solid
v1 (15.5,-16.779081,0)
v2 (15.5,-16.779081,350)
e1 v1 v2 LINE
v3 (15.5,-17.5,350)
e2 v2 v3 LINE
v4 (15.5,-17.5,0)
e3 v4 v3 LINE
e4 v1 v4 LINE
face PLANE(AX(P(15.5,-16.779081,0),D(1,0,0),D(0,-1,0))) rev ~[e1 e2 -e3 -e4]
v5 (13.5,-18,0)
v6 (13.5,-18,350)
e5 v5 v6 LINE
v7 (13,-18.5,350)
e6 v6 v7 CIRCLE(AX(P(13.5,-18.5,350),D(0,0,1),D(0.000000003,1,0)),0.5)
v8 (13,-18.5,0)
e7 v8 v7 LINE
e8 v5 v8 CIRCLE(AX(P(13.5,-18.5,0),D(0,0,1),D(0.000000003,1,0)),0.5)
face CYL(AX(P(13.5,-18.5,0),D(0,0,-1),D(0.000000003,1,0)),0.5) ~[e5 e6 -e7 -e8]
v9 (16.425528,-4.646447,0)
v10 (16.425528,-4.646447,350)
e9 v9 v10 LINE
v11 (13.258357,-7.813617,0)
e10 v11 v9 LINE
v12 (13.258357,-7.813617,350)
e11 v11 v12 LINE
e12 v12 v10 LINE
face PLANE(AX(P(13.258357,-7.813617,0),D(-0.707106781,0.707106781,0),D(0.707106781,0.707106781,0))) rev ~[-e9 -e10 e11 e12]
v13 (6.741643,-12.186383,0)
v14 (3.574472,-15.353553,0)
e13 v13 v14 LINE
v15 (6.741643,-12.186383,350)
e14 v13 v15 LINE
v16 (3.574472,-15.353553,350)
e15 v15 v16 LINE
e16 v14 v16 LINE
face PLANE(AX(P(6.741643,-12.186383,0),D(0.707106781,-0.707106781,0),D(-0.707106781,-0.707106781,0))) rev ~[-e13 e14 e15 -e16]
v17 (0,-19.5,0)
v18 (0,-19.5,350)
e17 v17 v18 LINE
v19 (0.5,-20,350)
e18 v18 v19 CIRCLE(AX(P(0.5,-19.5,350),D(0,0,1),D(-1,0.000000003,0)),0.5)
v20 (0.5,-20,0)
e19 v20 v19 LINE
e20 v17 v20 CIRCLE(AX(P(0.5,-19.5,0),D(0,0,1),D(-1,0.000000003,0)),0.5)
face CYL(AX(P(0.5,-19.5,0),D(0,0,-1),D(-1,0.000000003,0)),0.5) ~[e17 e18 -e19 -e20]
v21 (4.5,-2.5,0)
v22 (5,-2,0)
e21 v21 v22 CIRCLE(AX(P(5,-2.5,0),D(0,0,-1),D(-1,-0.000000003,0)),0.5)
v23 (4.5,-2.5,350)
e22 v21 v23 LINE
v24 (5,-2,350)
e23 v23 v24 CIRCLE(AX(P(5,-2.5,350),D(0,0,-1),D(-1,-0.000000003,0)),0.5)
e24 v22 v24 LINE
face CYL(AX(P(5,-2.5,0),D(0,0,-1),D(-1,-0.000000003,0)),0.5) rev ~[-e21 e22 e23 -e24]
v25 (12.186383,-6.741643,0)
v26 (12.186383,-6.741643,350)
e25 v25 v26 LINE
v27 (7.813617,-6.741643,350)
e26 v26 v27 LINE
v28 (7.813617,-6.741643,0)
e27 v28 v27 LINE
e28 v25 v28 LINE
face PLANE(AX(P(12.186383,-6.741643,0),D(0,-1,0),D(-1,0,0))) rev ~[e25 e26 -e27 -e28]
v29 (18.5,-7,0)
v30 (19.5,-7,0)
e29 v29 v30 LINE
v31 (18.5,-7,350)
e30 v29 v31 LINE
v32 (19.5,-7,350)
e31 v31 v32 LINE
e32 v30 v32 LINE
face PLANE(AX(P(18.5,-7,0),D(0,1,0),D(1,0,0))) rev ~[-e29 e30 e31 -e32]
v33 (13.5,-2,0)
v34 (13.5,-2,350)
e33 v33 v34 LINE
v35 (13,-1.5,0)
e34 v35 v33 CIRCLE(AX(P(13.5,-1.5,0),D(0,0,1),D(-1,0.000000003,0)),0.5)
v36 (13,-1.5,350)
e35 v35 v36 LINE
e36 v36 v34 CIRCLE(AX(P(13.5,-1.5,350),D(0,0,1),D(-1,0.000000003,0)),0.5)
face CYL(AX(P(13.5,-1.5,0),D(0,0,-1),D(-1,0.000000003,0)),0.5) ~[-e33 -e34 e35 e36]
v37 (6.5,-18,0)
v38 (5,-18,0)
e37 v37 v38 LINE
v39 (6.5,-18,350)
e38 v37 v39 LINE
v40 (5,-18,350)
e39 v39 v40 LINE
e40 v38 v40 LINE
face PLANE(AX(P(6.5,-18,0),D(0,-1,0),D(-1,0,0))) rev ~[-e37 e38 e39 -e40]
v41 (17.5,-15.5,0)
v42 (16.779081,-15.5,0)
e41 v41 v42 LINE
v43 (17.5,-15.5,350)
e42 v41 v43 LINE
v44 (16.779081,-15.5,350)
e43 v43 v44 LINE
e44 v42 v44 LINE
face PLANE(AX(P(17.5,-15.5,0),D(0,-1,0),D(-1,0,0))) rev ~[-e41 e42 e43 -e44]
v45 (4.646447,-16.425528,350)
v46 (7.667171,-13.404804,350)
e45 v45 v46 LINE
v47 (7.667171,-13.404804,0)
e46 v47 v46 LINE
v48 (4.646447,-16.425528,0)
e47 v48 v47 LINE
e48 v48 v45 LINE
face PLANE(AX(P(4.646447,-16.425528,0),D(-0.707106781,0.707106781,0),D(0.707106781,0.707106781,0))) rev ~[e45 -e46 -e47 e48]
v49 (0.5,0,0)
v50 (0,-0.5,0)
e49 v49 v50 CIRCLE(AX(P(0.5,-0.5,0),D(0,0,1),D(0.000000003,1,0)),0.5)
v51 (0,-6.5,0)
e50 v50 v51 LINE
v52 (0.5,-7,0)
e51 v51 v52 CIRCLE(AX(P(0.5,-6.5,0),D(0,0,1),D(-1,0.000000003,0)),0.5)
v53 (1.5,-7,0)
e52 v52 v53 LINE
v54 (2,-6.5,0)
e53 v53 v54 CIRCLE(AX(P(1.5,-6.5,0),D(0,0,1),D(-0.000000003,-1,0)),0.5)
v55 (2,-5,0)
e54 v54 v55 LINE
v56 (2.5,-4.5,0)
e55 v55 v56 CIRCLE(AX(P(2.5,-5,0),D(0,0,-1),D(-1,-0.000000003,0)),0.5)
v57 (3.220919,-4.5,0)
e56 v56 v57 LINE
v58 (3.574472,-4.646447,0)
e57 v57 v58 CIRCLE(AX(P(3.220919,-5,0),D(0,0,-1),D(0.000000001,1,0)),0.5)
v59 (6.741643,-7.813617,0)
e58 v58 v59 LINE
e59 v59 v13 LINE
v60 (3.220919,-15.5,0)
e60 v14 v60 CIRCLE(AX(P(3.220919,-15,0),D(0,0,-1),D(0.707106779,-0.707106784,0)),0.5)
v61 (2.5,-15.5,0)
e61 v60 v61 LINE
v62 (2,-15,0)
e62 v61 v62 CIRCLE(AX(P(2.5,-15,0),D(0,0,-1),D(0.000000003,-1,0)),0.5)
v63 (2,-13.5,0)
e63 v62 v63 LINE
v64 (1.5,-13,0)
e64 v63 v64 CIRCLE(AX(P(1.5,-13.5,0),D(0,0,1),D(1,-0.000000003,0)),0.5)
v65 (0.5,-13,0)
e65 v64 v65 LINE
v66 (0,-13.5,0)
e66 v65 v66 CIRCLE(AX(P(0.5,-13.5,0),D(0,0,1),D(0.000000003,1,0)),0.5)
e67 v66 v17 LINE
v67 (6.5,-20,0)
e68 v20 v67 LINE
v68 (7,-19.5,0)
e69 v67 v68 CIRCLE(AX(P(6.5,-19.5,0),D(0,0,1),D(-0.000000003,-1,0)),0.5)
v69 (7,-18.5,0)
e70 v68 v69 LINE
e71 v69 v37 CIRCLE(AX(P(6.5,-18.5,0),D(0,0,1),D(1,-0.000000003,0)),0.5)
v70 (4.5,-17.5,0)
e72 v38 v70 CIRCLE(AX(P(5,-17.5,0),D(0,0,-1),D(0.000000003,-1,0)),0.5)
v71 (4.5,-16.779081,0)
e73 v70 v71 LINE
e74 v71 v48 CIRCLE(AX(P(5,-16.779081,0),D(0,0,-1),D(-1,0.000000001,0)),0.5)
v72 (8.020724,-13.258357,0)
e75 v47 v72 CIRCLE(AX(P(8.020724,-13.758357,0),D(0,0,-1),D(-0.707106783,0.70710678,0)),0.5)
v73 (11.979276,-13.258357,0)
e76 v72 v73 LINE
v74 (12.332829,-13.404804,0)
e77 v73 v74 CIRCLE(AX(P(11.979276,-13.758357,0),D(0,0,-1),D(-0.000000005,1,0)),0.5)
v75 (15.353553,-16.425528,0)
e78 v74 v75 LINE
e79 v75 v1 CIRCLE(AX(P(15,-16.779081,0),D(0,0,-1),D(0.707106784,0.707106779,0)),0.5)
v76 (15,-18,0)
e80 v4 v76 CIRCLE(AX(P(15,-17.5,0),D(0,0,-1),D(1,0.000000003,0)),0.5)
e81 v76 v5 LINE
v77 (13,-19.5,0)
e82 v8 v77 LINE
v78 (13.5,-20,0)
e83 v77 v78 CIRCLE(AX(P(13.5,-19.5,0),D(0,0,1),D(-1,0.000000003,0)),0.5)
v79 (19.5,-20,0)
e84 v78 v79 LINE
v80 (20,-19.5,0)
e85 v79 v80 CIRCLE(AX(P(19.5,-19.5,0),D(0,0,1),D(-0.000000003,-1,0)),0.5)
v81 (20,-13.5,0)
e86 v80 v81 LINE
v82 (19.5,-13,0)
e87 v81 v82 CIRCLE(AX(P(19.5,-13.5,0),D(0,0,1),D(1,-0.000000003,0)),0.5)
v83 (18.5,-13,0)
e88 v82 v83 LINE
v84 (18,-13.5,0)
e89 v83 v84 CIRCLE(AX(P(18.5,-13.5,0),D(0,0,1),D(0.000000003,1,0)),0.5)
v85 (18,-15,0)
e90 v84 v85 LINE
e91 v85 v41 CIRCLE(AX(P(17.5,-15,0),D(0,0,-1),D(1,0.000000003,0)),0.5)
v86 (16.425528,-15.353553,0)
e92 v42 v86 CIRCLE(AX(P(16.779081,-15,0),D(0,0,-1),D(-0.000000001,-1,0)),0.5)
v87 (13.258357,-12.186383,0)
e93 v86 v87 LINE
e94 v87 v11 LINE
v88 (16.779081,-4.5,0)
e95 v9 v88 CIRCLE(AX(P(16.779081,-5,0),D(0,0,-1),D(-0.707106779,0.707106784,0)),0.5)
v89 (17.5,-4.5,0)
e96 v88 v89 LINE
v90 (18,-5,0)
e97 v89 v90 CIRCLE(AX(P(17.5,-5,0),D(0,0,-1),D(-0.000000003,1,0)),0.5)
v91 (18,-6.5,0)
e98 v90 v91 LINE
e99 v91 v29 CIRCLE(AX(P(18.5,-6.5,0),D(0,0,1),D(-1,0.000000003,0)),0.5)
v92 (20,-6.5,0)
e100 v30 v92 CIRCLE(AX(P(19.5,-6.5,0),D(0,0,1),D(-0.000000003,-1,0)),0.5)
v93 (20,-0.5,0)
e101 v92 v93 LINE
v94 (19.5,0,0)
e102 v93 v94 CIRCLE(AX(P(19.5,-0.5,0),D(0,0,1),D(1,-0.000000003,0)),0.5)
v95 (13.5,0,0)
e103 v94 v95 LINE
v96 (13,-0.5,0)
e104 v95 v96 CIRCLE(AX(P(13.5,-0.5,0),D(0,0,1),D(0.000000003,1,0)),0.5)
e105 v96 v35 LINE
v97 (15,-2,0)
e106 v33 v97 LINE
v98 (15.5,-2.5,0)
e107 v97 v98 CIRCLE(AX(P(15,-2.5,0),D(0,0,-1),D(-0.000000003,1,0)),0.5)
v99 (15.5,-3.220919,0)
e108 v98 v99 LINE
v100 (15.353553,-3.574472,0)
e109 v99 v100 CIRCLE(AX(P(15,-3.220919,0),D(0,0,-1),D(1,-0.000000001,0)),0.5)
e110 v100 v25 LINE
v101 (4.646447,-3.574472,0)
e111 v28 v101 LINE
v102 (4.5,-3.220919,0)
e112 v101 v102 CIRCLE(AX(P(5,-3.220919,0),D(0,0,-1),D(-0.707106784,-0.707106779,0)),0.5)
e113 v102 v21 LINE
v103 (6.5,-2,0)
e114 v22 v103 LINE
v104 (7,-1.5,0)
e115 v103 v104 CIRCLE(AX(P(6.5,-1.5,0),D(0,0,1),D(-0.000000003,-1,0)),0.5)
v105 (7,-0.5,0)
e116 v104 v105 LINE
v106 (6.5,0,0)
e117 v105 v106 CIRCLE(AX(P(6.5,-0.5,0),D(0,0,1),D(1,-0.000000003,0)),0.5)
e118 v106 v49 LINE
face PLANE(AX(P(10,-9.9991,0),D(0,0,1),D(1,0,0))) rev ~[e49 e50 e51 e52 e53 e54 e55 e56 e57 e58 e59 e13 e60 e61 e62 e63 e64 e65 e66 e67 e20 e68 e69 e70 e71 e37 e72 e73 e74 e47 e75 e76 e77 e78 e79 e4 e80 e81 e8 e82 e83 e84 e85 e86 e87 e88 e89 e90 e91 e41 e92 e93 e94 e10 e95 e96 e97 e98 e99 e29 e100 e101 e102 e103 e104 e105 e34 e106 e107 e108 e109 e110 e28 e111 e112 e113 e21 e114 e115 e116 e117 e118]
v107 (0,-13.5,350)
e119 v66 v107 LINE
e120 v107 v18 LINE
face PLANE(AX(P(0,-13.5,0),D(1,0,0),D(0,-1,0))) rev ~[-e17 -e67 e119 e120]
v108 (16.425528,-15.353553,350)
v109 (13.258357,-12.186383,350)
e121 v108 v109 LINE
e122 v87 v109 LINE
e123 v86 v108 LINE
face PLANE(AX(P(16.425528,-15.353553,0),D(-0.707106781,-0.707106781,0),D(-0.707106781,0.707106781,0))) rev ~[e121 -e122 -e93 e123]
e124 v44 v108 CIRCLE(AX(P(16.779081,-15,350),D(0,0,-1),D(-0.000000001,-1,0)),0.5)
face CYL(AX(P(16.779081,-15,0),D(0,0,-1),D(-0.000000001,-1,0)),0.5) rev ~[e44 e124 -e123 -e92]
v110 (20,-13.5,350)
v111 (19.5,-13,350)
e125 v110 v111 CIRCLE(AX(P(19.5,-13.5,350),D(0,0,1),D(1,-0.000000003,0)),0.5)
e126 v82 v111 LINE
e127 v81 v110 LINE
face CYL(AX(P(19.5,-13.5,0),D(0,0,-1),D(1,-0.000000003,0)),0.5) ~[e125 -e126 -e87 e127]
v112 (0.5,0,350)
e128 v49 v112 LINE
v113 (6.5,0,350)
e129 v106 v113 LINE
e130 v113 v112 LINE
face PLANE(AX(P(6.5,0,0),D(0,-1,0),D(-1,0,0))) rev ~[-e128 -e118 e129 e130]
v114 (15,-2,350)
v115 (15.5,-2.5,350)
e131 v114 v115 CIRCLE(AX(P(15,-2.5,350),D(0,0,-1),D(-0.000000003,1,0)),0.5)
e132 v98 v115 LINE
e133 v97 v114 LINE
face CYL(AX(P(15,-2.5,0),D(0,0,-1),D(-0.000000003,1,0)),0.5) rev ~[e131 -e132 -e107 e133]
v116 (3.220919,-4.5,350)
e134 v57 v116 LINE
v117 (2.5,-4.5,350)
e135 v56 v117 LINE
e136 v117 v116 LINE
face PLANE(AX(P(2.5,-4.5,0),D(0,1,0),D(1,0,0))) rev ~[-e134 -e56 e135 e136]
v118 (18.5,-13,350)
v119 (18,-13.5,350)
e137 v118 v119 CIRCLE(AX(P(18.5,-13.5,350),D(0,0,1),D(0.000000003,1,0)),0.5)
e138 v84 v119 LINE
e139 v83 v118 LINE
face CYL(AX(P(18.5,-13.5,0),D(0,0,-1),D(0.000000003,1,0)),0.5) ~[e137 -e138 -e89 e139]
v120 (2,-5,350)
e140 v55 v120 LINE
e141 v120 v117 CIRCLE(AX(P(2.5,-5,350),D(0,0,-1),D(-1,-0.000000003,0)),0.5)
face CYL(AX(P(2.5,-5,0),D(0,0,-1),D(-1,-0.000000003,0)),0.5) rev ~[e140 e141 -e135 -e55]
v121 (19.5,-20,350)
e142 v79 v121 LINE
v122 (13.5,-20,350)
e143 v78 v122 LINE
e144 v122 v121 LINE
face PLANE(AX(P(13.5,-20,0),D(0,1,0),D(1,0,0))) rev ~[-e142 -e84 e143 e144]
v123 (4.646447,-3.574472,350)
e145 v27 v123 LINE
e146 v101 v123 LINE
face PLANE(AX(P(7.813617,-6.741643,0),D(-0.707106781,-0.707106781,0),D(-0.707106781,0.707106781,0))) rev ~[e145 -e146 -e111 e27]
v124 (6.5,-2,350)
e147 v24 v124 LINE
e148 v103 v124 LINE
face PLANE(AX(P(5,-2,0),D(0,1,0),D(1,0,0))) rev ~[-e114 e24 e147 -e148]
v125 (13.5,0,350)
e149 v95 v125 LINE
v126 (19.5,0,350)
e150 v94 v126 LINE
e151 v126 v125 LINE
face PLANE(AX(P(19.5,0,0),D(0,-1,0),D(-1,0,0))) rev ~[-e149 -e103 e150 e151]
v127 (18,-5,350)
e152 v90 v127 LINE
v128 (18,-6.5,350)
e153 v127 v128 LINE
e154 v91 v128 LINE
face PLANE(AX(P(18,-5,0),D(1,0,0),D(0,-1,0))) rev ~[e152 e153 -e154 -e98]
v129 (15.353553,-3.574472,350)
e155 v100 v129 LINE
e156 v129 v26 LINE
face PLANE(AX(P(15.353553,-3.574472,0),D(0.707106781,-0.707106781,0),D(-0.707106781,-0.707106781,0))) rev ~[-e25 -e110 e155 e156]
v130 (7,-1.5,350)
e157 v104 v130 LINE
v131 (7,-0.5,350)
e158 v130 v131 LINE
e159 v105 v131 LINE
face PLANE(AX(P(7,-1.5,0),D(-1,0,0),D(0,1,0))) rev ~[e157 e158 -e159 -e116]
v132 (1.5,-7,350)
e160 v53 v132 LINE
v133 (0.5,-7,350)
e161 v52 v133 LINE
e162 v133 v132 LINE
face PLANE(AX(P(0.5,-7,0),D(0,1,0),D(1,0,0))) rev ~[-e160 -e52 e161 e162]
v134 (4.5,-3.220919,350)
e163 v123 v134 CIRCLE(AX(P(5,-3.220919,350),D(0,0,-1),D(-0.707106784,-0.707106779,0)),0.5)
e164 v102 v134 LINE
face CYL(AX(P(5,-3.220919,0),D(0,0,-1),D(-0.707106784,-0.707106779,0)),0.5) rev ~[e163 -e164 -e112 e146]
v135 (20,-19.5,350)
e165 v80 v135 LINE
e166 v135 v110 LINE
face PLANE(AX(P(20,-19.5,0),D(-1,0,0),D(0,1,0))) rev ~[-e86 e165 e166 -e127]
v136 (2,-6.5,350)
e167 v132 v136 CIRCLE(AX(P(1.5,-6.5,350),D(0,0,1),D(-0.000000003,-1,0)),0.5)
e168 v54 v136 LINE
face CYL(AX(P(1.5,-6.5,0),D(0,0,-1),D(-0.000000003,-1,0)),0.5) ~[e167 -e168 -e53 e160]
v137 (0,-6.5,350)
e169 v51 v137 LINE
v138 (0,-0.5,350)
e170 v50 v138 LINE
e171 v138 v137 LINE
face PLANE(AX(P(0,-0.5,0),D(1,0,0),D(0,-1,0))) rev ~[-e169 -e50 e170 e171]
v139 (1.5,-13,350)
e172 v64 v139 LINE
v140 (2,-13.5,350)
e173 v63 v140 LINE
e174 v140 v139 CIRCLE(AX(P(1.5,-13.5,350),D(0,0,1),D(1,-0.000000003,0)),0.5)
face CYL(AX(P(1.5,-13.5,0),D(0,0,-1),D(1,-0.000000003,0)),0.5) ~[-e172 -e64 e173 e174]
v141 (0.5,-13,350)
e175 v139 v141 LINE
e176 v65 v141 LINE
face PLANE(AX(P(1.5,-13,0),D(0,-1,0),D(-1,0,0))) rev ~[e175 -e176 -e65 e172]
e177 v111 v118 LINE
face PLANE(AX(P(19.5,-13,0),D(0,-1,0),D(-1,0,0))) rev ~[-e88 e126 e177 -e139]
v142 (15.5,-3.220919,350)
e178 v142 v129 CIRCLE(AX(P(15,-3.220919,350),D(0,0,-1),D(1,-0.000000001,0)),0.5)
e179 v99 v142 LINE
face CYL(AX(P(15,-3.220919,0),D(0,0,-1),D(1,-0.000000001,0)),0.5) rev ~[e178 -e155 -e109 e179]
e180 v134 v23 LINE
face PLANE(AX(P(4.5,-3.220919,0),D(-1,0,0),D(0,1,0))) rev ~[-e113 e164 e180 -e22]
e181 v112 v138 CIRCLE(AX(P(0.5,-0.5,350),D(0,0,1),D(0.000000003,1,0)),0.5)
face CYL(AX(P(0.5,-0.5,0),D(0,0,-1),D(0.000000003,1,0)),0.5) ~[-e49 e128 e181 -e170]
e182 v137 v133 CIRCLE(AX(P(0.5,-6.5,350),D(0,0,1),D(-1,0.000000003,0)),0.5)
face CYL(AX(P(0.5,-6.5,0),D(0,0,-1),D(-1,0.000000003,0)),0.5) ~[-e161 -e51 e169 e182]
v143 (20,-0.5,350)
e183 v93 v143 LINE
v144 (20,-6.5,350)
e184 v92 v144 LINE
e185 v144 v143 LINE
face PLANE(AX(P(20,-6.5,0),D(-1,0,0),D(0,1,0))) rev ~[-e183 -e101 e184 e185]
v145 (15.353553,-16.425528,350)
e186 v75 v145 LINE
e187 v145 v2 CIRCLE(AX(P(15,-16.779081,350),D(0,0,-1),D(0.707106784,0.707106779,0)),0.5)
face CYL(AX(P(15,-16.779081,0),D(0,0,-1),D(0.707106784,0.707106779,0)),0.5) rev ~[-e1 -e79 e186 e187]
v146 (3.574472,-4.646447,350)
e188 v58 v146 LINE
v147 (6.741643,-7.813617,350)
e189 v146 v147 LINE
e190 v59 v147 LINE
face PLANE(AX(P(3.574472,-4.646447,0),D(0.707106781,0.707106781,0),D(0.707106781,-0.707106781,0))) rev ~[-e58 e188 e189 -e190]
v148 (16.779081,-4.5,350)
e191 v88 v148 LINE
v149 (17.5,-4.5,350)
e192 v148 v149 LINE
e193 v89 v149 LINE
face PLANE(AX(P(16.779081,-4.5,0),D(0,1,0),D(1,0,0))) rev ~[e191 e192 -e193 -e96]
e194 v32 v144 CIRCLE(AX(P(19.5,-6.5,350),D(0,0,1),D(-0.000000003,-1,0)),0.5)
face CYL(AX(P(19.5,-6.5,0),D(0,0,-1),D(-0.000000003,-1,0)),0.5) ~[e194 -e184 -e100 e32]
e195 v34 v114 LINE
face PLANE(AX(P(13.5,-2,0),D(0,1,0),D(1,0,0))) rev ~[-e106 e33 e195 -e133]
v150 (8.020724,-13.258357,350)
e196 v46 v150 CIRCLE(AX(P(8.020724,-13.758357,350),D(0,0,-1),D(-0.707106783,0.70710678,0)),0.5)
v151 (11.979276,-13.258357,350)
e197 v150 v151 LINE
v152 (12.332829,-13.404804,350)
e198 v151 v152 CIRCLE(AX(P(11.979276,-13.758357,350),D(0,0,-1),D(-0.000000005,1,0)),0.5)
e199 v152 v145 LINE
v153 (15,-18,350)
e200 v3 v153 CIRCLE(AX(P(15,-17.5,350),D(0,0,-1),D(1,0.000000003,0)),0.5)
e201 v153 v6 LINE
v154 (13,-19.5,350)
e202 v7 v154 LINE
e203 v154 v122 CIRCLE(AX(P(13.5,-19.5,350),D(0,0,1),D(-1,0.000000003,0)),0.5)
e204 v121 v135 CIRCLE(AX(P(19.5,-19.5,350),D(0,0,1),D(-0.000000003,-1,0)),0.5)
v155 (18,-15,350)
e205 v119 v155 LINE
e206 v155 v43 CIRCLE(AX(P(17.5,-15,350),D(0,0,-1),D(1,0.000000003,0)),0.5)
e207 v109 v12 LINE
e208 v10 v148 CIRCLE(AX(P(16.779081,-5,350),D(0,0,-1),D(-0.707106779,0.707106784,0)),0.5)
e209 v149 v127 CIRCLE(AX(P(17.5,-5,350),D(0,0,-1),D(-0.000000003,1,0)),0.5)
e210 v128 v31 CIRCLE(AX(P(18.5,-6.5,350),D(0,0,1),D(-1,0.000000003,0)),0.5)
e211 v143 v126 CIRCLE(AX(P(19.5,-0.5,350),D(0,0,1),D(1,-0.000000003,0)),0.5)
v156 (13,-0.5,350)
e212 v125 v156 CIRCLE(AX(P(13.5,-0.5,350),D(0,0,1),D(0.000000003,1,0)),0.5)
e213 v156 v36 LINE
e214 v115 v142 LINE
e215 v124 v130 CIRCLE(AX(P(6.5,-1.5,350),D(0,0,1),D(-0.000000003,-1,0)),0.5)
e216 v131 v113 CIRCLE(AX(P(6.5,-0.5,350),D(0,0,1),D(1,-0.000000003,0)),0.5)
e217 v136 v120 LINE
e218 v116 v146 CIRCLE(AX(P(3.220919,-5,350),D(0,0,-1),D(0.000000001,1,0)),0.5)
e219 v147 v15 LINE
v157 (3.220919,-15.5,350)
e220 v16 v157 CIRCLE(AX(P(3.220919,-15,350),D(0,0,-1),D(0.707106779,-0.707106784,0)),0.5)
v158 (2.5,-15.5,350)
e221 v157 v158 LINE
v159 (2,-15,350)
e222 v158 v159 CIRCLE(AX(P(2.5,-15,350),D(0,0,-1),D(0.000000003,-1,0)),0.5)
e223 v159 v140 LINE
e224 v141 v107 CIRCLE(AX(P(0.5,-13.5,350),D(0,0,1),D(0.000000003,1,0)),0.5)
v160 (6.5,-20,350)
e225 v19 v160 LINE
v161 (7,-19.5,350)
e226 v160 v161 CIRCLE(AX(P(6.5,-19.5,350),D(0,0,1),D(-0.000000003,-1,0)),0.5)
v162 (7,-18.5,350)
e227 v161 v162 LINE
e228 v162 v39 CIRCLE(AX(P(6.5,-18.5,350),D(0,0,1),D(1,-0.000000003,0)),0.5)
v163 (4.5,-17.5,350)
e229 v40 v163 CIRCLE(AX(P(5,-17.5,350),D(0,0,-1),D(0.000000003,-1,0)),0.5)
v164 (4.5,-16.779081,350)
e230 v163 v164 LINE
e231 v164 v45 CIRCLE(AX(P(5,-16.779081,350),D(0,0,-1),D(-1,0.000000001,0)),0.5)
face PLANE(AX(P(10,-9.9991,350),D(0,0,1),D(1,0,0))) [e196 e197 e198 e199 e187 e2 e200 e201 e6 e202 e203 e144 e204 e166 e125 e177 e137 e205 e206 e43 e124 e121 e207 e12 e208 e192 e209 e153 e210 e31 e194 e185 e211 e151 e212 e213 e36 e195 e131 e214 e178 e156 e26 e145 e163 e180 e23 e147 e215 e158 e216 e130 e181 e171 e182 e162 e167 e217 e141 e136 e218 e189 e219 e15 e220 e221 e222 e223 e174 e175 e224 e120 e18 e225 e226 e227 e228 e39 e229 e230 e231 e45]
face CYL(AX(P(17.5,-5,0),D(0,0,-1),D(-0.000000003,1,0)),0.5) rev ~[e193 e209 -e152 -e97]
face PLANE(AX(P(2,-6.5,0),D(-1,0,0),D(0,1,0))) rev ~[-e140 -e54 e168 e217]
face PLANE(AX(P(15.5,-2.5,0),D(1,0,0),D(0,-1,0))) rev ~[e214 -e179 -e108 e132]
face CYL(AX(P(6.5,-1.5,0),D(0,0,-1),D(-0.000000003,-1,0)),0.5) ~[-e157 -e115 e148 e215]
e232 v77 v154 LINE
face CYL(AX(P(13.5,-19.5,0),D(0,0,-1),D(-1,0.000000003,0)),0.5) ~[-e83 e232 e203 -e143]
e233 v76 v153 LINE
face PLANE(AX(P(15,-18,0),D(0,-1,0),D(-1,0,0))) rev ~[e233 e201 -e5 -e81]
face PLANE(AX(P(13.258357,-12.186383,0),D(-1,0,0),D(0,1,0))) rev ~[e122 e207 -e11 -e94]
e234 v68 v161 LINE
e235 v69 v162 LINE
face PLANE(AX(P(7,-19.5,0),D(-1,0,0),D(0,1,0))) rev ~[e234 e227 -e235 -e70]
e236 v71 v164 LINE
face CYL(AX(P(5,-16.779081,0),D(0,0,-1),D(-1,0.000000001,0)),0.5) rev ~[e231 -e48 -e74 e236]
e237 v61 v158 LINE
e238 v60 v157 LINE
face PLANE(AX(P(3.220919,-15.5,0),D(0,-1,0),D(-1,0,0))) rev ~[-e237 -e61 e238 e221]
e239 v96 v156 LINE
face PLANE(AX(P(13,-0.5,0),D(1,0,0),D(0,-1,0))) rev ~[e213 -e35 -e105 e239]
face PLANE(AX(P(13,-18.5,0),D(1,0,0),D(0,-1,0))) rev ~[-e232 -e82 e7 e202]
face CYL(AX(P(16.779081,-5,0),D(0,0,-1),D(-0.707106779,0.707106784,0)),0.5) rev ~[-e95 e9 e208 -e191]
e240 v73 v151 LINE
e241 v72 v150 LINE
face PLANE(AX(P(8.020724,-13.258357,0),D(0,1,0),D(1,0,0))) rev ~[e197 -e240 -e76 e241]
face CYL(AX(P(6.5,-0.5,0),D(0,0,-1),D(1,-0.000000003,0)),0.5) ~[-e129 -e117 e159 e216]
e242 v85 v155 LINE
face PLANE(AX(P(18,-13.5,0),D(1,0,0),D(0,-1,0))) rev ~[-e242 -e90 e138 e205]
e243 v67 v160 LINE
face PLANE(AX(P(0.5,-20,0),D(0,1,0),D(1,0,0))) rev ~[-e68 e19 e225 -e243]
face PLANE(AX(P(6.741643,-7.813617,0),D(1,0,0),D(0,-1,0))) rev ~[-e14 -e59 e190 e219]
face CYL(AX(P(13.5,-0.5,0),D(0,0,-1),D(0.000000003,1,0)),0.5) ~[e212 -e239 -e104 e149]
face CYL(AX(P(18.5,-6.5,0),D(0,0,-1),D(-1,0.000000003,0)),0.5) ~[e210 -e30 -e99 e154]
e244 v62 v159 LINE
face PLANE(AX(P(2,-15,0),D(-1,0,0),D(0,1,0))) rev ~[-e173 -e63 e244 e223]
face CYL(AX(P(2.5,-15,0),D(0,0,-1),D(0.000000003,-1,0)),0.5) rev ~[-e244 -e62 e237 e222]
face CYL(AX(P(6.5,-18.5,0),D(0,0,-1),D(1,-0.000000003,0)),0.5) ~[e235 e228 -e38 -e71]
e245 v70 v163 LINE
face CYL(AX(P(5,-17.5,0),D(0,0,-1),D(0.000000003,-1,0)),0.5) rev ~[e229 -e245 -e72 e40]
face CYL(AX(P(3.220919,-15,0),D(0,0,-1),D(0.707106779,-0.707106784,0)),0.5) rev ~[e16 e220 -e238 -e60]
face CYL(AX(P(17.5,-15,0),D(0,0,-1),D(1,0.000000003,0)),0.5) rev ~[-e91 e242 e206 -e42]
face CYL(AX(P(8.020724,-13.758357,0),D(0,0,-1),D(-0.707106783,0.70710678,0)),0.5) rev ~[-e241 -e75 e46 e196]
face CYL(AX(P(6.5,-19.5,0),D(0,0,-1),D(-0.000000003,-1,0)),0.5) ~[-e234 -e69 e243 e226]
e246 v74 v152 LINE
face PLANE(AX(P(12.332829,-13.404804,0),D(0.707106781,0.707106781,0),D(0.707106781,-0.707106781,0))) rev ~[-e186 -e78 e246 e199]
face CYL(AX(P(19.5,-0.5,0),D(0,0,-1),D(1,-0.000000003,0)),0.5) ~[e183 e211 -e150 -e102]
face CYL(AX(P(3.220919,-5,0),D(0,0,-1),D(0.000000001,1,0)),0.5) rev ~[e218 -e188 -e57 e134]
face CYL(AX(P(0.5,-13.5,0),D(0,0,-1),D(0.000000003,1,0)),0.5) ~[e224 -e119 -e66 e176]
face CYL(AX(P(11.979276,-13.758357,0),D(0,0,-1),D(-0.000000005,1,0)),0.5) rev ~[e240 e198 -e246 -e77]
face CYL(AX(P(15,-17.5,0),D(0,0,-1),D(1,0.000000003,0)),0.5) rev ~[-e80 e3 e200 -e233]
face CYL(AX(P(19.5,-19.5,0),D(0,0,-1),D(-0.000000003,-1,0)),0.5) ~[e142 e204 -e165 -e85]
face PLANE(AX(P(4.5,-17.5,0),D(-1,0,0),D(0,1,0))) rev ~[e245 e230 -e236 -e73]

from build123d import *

# Parameters (mm, degrees)
EXTRUDE_1_DEPTH = 350


with BuildPart() as part:
    # 草图1 → 凸台-拉伸1 (new body)
    with BuildSketch(Plane.XY):
        with BuildLine():
            Line((6.5, 0), (0.5, 0))
            ThreePointArc((0.5, 0), (0.146446609, -0.146446609), (0, -0.5))
            Line((0, -0.5), (0, -6.5))
            ThreePointArc((0, -6.5), (0.146446609, -6.853553391), (0.5, -7))
            Line((0.5, -7), (1.5, -7))
            ThreePointArc((1.5, -7), (1.853553391, -6.853553391), (2, -6.5))
            Line((2, -6.5), (2, -5))
            ThreePointArc((2, -5), (2.146446609, -4.646446609), (2.5, -4.5))
            Line((2.5, -4.5), (3.220918534, -4.5))
            ThreePointArc((3.220918534, -4.5), (3.412260251, -4.538060234), (3.574471925, -4.646446609))
            Line((3.574471925, -4.646446609), (6.741642787, -7.813617472))
            Line((6.741642787, -7.813617472), (6.741642787, -12.186382528))
            Line((6.741642787, -12.186382528), (3.574471925, -15.353553391))
            ThreePointArc((3.574471925, -15.353553391), (3.412260251, -15.461939766), (3.220918534, -15.5))
            Line((3.220918534, -15.5), (2.5, -15.5))
            ThreePointArc((2.5, -15.5), (2.146446609, -15.353553391), (2, -15))
            Line((2, -15), (2, -13.5))
            ThreePointArc((2, -13.5), (1.853553391, -13.146446609), (1.5, -13))
            Line((1.5, -13), (0.5, -13))
            ThreePointArc((0.5, -13), (0.146446609, -13.146446609), (0, -13.5))
            Line((0, -13.5), (0, -19.5))
            ThreePointArc((0, -19.5), (0.146446609, -19.853553391), (0.5, -20))
            Line((0.5, -20), (6.5, -20))
            ThreePointArc((6.5, -20), (6.853553391, -19.853553391), (7, -19.5))
            Line((7, -19.5), (7, -18.5))
            ThreePointArc((7, -18.5), (6.853553391, -18.146446609), (6.5, -18))
            Line((6.5, -18), (5, -18))
            ThreePointArc((5, -18), (4.646446609, -17.853553391), (4.5, -17.5))
            Line((4.5, -17.5), (4.5, -16.779081466))
            ThreePointArc((4.5, -16.779081466), (4.538060234, -16.587739749), (4.646446609, -16.425528075))
            Line((4.646446609, -16.425528075), (7.667170862, -13.404803822))
            ThreePointArc((7.667170862, -13.404803822), (7.829382537, -13.296417446), (8.020724253, -13.258357213))
            Line((8.020724253, -13.258357213), (11.979275747, -13.258357213))
            ThreePointArc((11.979275747, -13.258357213), (12.170617463, -13.296417446), (12.332829138, -13.404803822))
            Line((12.332829138, -13.404803822), (15.353553391, -16.425528075))
            ThreePointArc((15.353553391, -16.425528075), (15.461939766, -16.587739749), (15.5, -16.779081466))
            Line((15.5, -16.779081466), (15.5, -17.5))
            ThreePointArc((15.5, -17.5), (15.353553391, -17.853553391), (15, -18))
            Line((15, -18), (13.5, -18))
            ThreePointArc((13.5, -18), (13.146446609, -18.146446609), (13, -18.5))
            Line((13, -18.5), (13, -19.5))
            ThreePointArc((13, -19.5), (13.146446609, -19.853553391), (13.5, -20))
            Line((13.5, -20), (19.5, -20))
            ThreePointArc((19.5, -20), (19.853553391, -19.853553391), (20, -19.5))
            Line((20, -19.5), (20, -13.5))
            ThreePointArc((20, -13.5), (19.853553391, -13.146446609), (19.5, -13))
            Line((19.5, -13), (18.5, -13))
            ThreePointArc((18.5, -13), (18.146446609, -13.146446609), (18, -13.5))
            Line((18, -13.5), (18, -15))
            ThreePointArc((18, -15), (17.853553391, -15.353553391), (17.5, -15.5))
            Line((17.5, -15.5), (16.779081466, -15.5))
            ThreePointArc((16.779081466, -15.5), (16.587739749, -15.461939766), (16.425528075, -15.353553391))
            Line((16.425528075, -15.353553391), (13.258357213, -12.186382528))
            Line((13.258357213, -12.186382528), (13.258357213, -7.813617472))
            Line((13.258357213, -7.813617472), (16.425528075, -4.646446609))
            ThreePointArc((16.425528075, -4.646446609), (16.587739749, -4.538060234), (16.779081466, -4.5))
            Line((16.779081466, -4.5), (17.5, -4.5))
            ThreePointArc((17.5, -4.5), (17.853553391, -4.646446609), (18, -5))
            Line((18, -5), (18, -6.5))
            ThreePointArc((18, -6.5), (18.146446609, -6.853553391), (18.5, -7))
            Line((18.5, -7), (19.5, -7))
            ThreePointArc((19.5, -7), (19.853553391, -6.853553391), (20, -6.5))
            Line((20, -6.5), (20, -0.5))
            ThreePointArc((20, -0.5), (19.853553391, -0.146446609), (19.5, 0))
            Line((19.5, 0), (13.5, 0))
            ThreePointArc((13.5, 0), (13.146446609, -0.146446609), (13, -0.5))
            Line((13, -0.5), (13, -1.5))
            ThreePointArc((13, -1.5), (13.146446609, -1.853553391), (13.5, -2))
            Line((13.5, -2), (15, -2))
            ThreePointArc((15, -2), (15.353553391, -2.146446609), (15.5, -2.5))
            Line((15.5, -2.5), (15.5, -3.220918534))
            ThreePointArc((15.5, -3.220918534), (15.461939766, -3.412260251), (15.353553391, -3.574471925))
            Line((15.353553391, -3.574471925), (12.186382528, -6.741642787))
            Line((12.186382528, -6.741642787), (7.813617472, -6.741642787))
            Line((7.813617472, -6.741642787), (4.646446609, -3.574471925))
            ThreePointArc((4.646446609, -3.574471925), (4.538060234, -3.412260251), (4.5, -3.220918534))
            Line((4.5, -3.220918534), (4.5, -2.5))
            ThreePointArc((4.5, -2.5), (4.646446609, -2.146446609), (5, -2))
            Line((5, -2), (6.5, -2))
            ThreePointArc((6.5, -2), (6.853553391, -1.853553391), (7, -1.5))
            Line((7, -1.5), (7, -0.5))
            ThreePointArc((7, -0.5), (6.853553391, -0.146446609), (6.5, 0))
        make_face()
    extrude(amount=EXTRUDE_1_DEPTH)


solid = part.part
